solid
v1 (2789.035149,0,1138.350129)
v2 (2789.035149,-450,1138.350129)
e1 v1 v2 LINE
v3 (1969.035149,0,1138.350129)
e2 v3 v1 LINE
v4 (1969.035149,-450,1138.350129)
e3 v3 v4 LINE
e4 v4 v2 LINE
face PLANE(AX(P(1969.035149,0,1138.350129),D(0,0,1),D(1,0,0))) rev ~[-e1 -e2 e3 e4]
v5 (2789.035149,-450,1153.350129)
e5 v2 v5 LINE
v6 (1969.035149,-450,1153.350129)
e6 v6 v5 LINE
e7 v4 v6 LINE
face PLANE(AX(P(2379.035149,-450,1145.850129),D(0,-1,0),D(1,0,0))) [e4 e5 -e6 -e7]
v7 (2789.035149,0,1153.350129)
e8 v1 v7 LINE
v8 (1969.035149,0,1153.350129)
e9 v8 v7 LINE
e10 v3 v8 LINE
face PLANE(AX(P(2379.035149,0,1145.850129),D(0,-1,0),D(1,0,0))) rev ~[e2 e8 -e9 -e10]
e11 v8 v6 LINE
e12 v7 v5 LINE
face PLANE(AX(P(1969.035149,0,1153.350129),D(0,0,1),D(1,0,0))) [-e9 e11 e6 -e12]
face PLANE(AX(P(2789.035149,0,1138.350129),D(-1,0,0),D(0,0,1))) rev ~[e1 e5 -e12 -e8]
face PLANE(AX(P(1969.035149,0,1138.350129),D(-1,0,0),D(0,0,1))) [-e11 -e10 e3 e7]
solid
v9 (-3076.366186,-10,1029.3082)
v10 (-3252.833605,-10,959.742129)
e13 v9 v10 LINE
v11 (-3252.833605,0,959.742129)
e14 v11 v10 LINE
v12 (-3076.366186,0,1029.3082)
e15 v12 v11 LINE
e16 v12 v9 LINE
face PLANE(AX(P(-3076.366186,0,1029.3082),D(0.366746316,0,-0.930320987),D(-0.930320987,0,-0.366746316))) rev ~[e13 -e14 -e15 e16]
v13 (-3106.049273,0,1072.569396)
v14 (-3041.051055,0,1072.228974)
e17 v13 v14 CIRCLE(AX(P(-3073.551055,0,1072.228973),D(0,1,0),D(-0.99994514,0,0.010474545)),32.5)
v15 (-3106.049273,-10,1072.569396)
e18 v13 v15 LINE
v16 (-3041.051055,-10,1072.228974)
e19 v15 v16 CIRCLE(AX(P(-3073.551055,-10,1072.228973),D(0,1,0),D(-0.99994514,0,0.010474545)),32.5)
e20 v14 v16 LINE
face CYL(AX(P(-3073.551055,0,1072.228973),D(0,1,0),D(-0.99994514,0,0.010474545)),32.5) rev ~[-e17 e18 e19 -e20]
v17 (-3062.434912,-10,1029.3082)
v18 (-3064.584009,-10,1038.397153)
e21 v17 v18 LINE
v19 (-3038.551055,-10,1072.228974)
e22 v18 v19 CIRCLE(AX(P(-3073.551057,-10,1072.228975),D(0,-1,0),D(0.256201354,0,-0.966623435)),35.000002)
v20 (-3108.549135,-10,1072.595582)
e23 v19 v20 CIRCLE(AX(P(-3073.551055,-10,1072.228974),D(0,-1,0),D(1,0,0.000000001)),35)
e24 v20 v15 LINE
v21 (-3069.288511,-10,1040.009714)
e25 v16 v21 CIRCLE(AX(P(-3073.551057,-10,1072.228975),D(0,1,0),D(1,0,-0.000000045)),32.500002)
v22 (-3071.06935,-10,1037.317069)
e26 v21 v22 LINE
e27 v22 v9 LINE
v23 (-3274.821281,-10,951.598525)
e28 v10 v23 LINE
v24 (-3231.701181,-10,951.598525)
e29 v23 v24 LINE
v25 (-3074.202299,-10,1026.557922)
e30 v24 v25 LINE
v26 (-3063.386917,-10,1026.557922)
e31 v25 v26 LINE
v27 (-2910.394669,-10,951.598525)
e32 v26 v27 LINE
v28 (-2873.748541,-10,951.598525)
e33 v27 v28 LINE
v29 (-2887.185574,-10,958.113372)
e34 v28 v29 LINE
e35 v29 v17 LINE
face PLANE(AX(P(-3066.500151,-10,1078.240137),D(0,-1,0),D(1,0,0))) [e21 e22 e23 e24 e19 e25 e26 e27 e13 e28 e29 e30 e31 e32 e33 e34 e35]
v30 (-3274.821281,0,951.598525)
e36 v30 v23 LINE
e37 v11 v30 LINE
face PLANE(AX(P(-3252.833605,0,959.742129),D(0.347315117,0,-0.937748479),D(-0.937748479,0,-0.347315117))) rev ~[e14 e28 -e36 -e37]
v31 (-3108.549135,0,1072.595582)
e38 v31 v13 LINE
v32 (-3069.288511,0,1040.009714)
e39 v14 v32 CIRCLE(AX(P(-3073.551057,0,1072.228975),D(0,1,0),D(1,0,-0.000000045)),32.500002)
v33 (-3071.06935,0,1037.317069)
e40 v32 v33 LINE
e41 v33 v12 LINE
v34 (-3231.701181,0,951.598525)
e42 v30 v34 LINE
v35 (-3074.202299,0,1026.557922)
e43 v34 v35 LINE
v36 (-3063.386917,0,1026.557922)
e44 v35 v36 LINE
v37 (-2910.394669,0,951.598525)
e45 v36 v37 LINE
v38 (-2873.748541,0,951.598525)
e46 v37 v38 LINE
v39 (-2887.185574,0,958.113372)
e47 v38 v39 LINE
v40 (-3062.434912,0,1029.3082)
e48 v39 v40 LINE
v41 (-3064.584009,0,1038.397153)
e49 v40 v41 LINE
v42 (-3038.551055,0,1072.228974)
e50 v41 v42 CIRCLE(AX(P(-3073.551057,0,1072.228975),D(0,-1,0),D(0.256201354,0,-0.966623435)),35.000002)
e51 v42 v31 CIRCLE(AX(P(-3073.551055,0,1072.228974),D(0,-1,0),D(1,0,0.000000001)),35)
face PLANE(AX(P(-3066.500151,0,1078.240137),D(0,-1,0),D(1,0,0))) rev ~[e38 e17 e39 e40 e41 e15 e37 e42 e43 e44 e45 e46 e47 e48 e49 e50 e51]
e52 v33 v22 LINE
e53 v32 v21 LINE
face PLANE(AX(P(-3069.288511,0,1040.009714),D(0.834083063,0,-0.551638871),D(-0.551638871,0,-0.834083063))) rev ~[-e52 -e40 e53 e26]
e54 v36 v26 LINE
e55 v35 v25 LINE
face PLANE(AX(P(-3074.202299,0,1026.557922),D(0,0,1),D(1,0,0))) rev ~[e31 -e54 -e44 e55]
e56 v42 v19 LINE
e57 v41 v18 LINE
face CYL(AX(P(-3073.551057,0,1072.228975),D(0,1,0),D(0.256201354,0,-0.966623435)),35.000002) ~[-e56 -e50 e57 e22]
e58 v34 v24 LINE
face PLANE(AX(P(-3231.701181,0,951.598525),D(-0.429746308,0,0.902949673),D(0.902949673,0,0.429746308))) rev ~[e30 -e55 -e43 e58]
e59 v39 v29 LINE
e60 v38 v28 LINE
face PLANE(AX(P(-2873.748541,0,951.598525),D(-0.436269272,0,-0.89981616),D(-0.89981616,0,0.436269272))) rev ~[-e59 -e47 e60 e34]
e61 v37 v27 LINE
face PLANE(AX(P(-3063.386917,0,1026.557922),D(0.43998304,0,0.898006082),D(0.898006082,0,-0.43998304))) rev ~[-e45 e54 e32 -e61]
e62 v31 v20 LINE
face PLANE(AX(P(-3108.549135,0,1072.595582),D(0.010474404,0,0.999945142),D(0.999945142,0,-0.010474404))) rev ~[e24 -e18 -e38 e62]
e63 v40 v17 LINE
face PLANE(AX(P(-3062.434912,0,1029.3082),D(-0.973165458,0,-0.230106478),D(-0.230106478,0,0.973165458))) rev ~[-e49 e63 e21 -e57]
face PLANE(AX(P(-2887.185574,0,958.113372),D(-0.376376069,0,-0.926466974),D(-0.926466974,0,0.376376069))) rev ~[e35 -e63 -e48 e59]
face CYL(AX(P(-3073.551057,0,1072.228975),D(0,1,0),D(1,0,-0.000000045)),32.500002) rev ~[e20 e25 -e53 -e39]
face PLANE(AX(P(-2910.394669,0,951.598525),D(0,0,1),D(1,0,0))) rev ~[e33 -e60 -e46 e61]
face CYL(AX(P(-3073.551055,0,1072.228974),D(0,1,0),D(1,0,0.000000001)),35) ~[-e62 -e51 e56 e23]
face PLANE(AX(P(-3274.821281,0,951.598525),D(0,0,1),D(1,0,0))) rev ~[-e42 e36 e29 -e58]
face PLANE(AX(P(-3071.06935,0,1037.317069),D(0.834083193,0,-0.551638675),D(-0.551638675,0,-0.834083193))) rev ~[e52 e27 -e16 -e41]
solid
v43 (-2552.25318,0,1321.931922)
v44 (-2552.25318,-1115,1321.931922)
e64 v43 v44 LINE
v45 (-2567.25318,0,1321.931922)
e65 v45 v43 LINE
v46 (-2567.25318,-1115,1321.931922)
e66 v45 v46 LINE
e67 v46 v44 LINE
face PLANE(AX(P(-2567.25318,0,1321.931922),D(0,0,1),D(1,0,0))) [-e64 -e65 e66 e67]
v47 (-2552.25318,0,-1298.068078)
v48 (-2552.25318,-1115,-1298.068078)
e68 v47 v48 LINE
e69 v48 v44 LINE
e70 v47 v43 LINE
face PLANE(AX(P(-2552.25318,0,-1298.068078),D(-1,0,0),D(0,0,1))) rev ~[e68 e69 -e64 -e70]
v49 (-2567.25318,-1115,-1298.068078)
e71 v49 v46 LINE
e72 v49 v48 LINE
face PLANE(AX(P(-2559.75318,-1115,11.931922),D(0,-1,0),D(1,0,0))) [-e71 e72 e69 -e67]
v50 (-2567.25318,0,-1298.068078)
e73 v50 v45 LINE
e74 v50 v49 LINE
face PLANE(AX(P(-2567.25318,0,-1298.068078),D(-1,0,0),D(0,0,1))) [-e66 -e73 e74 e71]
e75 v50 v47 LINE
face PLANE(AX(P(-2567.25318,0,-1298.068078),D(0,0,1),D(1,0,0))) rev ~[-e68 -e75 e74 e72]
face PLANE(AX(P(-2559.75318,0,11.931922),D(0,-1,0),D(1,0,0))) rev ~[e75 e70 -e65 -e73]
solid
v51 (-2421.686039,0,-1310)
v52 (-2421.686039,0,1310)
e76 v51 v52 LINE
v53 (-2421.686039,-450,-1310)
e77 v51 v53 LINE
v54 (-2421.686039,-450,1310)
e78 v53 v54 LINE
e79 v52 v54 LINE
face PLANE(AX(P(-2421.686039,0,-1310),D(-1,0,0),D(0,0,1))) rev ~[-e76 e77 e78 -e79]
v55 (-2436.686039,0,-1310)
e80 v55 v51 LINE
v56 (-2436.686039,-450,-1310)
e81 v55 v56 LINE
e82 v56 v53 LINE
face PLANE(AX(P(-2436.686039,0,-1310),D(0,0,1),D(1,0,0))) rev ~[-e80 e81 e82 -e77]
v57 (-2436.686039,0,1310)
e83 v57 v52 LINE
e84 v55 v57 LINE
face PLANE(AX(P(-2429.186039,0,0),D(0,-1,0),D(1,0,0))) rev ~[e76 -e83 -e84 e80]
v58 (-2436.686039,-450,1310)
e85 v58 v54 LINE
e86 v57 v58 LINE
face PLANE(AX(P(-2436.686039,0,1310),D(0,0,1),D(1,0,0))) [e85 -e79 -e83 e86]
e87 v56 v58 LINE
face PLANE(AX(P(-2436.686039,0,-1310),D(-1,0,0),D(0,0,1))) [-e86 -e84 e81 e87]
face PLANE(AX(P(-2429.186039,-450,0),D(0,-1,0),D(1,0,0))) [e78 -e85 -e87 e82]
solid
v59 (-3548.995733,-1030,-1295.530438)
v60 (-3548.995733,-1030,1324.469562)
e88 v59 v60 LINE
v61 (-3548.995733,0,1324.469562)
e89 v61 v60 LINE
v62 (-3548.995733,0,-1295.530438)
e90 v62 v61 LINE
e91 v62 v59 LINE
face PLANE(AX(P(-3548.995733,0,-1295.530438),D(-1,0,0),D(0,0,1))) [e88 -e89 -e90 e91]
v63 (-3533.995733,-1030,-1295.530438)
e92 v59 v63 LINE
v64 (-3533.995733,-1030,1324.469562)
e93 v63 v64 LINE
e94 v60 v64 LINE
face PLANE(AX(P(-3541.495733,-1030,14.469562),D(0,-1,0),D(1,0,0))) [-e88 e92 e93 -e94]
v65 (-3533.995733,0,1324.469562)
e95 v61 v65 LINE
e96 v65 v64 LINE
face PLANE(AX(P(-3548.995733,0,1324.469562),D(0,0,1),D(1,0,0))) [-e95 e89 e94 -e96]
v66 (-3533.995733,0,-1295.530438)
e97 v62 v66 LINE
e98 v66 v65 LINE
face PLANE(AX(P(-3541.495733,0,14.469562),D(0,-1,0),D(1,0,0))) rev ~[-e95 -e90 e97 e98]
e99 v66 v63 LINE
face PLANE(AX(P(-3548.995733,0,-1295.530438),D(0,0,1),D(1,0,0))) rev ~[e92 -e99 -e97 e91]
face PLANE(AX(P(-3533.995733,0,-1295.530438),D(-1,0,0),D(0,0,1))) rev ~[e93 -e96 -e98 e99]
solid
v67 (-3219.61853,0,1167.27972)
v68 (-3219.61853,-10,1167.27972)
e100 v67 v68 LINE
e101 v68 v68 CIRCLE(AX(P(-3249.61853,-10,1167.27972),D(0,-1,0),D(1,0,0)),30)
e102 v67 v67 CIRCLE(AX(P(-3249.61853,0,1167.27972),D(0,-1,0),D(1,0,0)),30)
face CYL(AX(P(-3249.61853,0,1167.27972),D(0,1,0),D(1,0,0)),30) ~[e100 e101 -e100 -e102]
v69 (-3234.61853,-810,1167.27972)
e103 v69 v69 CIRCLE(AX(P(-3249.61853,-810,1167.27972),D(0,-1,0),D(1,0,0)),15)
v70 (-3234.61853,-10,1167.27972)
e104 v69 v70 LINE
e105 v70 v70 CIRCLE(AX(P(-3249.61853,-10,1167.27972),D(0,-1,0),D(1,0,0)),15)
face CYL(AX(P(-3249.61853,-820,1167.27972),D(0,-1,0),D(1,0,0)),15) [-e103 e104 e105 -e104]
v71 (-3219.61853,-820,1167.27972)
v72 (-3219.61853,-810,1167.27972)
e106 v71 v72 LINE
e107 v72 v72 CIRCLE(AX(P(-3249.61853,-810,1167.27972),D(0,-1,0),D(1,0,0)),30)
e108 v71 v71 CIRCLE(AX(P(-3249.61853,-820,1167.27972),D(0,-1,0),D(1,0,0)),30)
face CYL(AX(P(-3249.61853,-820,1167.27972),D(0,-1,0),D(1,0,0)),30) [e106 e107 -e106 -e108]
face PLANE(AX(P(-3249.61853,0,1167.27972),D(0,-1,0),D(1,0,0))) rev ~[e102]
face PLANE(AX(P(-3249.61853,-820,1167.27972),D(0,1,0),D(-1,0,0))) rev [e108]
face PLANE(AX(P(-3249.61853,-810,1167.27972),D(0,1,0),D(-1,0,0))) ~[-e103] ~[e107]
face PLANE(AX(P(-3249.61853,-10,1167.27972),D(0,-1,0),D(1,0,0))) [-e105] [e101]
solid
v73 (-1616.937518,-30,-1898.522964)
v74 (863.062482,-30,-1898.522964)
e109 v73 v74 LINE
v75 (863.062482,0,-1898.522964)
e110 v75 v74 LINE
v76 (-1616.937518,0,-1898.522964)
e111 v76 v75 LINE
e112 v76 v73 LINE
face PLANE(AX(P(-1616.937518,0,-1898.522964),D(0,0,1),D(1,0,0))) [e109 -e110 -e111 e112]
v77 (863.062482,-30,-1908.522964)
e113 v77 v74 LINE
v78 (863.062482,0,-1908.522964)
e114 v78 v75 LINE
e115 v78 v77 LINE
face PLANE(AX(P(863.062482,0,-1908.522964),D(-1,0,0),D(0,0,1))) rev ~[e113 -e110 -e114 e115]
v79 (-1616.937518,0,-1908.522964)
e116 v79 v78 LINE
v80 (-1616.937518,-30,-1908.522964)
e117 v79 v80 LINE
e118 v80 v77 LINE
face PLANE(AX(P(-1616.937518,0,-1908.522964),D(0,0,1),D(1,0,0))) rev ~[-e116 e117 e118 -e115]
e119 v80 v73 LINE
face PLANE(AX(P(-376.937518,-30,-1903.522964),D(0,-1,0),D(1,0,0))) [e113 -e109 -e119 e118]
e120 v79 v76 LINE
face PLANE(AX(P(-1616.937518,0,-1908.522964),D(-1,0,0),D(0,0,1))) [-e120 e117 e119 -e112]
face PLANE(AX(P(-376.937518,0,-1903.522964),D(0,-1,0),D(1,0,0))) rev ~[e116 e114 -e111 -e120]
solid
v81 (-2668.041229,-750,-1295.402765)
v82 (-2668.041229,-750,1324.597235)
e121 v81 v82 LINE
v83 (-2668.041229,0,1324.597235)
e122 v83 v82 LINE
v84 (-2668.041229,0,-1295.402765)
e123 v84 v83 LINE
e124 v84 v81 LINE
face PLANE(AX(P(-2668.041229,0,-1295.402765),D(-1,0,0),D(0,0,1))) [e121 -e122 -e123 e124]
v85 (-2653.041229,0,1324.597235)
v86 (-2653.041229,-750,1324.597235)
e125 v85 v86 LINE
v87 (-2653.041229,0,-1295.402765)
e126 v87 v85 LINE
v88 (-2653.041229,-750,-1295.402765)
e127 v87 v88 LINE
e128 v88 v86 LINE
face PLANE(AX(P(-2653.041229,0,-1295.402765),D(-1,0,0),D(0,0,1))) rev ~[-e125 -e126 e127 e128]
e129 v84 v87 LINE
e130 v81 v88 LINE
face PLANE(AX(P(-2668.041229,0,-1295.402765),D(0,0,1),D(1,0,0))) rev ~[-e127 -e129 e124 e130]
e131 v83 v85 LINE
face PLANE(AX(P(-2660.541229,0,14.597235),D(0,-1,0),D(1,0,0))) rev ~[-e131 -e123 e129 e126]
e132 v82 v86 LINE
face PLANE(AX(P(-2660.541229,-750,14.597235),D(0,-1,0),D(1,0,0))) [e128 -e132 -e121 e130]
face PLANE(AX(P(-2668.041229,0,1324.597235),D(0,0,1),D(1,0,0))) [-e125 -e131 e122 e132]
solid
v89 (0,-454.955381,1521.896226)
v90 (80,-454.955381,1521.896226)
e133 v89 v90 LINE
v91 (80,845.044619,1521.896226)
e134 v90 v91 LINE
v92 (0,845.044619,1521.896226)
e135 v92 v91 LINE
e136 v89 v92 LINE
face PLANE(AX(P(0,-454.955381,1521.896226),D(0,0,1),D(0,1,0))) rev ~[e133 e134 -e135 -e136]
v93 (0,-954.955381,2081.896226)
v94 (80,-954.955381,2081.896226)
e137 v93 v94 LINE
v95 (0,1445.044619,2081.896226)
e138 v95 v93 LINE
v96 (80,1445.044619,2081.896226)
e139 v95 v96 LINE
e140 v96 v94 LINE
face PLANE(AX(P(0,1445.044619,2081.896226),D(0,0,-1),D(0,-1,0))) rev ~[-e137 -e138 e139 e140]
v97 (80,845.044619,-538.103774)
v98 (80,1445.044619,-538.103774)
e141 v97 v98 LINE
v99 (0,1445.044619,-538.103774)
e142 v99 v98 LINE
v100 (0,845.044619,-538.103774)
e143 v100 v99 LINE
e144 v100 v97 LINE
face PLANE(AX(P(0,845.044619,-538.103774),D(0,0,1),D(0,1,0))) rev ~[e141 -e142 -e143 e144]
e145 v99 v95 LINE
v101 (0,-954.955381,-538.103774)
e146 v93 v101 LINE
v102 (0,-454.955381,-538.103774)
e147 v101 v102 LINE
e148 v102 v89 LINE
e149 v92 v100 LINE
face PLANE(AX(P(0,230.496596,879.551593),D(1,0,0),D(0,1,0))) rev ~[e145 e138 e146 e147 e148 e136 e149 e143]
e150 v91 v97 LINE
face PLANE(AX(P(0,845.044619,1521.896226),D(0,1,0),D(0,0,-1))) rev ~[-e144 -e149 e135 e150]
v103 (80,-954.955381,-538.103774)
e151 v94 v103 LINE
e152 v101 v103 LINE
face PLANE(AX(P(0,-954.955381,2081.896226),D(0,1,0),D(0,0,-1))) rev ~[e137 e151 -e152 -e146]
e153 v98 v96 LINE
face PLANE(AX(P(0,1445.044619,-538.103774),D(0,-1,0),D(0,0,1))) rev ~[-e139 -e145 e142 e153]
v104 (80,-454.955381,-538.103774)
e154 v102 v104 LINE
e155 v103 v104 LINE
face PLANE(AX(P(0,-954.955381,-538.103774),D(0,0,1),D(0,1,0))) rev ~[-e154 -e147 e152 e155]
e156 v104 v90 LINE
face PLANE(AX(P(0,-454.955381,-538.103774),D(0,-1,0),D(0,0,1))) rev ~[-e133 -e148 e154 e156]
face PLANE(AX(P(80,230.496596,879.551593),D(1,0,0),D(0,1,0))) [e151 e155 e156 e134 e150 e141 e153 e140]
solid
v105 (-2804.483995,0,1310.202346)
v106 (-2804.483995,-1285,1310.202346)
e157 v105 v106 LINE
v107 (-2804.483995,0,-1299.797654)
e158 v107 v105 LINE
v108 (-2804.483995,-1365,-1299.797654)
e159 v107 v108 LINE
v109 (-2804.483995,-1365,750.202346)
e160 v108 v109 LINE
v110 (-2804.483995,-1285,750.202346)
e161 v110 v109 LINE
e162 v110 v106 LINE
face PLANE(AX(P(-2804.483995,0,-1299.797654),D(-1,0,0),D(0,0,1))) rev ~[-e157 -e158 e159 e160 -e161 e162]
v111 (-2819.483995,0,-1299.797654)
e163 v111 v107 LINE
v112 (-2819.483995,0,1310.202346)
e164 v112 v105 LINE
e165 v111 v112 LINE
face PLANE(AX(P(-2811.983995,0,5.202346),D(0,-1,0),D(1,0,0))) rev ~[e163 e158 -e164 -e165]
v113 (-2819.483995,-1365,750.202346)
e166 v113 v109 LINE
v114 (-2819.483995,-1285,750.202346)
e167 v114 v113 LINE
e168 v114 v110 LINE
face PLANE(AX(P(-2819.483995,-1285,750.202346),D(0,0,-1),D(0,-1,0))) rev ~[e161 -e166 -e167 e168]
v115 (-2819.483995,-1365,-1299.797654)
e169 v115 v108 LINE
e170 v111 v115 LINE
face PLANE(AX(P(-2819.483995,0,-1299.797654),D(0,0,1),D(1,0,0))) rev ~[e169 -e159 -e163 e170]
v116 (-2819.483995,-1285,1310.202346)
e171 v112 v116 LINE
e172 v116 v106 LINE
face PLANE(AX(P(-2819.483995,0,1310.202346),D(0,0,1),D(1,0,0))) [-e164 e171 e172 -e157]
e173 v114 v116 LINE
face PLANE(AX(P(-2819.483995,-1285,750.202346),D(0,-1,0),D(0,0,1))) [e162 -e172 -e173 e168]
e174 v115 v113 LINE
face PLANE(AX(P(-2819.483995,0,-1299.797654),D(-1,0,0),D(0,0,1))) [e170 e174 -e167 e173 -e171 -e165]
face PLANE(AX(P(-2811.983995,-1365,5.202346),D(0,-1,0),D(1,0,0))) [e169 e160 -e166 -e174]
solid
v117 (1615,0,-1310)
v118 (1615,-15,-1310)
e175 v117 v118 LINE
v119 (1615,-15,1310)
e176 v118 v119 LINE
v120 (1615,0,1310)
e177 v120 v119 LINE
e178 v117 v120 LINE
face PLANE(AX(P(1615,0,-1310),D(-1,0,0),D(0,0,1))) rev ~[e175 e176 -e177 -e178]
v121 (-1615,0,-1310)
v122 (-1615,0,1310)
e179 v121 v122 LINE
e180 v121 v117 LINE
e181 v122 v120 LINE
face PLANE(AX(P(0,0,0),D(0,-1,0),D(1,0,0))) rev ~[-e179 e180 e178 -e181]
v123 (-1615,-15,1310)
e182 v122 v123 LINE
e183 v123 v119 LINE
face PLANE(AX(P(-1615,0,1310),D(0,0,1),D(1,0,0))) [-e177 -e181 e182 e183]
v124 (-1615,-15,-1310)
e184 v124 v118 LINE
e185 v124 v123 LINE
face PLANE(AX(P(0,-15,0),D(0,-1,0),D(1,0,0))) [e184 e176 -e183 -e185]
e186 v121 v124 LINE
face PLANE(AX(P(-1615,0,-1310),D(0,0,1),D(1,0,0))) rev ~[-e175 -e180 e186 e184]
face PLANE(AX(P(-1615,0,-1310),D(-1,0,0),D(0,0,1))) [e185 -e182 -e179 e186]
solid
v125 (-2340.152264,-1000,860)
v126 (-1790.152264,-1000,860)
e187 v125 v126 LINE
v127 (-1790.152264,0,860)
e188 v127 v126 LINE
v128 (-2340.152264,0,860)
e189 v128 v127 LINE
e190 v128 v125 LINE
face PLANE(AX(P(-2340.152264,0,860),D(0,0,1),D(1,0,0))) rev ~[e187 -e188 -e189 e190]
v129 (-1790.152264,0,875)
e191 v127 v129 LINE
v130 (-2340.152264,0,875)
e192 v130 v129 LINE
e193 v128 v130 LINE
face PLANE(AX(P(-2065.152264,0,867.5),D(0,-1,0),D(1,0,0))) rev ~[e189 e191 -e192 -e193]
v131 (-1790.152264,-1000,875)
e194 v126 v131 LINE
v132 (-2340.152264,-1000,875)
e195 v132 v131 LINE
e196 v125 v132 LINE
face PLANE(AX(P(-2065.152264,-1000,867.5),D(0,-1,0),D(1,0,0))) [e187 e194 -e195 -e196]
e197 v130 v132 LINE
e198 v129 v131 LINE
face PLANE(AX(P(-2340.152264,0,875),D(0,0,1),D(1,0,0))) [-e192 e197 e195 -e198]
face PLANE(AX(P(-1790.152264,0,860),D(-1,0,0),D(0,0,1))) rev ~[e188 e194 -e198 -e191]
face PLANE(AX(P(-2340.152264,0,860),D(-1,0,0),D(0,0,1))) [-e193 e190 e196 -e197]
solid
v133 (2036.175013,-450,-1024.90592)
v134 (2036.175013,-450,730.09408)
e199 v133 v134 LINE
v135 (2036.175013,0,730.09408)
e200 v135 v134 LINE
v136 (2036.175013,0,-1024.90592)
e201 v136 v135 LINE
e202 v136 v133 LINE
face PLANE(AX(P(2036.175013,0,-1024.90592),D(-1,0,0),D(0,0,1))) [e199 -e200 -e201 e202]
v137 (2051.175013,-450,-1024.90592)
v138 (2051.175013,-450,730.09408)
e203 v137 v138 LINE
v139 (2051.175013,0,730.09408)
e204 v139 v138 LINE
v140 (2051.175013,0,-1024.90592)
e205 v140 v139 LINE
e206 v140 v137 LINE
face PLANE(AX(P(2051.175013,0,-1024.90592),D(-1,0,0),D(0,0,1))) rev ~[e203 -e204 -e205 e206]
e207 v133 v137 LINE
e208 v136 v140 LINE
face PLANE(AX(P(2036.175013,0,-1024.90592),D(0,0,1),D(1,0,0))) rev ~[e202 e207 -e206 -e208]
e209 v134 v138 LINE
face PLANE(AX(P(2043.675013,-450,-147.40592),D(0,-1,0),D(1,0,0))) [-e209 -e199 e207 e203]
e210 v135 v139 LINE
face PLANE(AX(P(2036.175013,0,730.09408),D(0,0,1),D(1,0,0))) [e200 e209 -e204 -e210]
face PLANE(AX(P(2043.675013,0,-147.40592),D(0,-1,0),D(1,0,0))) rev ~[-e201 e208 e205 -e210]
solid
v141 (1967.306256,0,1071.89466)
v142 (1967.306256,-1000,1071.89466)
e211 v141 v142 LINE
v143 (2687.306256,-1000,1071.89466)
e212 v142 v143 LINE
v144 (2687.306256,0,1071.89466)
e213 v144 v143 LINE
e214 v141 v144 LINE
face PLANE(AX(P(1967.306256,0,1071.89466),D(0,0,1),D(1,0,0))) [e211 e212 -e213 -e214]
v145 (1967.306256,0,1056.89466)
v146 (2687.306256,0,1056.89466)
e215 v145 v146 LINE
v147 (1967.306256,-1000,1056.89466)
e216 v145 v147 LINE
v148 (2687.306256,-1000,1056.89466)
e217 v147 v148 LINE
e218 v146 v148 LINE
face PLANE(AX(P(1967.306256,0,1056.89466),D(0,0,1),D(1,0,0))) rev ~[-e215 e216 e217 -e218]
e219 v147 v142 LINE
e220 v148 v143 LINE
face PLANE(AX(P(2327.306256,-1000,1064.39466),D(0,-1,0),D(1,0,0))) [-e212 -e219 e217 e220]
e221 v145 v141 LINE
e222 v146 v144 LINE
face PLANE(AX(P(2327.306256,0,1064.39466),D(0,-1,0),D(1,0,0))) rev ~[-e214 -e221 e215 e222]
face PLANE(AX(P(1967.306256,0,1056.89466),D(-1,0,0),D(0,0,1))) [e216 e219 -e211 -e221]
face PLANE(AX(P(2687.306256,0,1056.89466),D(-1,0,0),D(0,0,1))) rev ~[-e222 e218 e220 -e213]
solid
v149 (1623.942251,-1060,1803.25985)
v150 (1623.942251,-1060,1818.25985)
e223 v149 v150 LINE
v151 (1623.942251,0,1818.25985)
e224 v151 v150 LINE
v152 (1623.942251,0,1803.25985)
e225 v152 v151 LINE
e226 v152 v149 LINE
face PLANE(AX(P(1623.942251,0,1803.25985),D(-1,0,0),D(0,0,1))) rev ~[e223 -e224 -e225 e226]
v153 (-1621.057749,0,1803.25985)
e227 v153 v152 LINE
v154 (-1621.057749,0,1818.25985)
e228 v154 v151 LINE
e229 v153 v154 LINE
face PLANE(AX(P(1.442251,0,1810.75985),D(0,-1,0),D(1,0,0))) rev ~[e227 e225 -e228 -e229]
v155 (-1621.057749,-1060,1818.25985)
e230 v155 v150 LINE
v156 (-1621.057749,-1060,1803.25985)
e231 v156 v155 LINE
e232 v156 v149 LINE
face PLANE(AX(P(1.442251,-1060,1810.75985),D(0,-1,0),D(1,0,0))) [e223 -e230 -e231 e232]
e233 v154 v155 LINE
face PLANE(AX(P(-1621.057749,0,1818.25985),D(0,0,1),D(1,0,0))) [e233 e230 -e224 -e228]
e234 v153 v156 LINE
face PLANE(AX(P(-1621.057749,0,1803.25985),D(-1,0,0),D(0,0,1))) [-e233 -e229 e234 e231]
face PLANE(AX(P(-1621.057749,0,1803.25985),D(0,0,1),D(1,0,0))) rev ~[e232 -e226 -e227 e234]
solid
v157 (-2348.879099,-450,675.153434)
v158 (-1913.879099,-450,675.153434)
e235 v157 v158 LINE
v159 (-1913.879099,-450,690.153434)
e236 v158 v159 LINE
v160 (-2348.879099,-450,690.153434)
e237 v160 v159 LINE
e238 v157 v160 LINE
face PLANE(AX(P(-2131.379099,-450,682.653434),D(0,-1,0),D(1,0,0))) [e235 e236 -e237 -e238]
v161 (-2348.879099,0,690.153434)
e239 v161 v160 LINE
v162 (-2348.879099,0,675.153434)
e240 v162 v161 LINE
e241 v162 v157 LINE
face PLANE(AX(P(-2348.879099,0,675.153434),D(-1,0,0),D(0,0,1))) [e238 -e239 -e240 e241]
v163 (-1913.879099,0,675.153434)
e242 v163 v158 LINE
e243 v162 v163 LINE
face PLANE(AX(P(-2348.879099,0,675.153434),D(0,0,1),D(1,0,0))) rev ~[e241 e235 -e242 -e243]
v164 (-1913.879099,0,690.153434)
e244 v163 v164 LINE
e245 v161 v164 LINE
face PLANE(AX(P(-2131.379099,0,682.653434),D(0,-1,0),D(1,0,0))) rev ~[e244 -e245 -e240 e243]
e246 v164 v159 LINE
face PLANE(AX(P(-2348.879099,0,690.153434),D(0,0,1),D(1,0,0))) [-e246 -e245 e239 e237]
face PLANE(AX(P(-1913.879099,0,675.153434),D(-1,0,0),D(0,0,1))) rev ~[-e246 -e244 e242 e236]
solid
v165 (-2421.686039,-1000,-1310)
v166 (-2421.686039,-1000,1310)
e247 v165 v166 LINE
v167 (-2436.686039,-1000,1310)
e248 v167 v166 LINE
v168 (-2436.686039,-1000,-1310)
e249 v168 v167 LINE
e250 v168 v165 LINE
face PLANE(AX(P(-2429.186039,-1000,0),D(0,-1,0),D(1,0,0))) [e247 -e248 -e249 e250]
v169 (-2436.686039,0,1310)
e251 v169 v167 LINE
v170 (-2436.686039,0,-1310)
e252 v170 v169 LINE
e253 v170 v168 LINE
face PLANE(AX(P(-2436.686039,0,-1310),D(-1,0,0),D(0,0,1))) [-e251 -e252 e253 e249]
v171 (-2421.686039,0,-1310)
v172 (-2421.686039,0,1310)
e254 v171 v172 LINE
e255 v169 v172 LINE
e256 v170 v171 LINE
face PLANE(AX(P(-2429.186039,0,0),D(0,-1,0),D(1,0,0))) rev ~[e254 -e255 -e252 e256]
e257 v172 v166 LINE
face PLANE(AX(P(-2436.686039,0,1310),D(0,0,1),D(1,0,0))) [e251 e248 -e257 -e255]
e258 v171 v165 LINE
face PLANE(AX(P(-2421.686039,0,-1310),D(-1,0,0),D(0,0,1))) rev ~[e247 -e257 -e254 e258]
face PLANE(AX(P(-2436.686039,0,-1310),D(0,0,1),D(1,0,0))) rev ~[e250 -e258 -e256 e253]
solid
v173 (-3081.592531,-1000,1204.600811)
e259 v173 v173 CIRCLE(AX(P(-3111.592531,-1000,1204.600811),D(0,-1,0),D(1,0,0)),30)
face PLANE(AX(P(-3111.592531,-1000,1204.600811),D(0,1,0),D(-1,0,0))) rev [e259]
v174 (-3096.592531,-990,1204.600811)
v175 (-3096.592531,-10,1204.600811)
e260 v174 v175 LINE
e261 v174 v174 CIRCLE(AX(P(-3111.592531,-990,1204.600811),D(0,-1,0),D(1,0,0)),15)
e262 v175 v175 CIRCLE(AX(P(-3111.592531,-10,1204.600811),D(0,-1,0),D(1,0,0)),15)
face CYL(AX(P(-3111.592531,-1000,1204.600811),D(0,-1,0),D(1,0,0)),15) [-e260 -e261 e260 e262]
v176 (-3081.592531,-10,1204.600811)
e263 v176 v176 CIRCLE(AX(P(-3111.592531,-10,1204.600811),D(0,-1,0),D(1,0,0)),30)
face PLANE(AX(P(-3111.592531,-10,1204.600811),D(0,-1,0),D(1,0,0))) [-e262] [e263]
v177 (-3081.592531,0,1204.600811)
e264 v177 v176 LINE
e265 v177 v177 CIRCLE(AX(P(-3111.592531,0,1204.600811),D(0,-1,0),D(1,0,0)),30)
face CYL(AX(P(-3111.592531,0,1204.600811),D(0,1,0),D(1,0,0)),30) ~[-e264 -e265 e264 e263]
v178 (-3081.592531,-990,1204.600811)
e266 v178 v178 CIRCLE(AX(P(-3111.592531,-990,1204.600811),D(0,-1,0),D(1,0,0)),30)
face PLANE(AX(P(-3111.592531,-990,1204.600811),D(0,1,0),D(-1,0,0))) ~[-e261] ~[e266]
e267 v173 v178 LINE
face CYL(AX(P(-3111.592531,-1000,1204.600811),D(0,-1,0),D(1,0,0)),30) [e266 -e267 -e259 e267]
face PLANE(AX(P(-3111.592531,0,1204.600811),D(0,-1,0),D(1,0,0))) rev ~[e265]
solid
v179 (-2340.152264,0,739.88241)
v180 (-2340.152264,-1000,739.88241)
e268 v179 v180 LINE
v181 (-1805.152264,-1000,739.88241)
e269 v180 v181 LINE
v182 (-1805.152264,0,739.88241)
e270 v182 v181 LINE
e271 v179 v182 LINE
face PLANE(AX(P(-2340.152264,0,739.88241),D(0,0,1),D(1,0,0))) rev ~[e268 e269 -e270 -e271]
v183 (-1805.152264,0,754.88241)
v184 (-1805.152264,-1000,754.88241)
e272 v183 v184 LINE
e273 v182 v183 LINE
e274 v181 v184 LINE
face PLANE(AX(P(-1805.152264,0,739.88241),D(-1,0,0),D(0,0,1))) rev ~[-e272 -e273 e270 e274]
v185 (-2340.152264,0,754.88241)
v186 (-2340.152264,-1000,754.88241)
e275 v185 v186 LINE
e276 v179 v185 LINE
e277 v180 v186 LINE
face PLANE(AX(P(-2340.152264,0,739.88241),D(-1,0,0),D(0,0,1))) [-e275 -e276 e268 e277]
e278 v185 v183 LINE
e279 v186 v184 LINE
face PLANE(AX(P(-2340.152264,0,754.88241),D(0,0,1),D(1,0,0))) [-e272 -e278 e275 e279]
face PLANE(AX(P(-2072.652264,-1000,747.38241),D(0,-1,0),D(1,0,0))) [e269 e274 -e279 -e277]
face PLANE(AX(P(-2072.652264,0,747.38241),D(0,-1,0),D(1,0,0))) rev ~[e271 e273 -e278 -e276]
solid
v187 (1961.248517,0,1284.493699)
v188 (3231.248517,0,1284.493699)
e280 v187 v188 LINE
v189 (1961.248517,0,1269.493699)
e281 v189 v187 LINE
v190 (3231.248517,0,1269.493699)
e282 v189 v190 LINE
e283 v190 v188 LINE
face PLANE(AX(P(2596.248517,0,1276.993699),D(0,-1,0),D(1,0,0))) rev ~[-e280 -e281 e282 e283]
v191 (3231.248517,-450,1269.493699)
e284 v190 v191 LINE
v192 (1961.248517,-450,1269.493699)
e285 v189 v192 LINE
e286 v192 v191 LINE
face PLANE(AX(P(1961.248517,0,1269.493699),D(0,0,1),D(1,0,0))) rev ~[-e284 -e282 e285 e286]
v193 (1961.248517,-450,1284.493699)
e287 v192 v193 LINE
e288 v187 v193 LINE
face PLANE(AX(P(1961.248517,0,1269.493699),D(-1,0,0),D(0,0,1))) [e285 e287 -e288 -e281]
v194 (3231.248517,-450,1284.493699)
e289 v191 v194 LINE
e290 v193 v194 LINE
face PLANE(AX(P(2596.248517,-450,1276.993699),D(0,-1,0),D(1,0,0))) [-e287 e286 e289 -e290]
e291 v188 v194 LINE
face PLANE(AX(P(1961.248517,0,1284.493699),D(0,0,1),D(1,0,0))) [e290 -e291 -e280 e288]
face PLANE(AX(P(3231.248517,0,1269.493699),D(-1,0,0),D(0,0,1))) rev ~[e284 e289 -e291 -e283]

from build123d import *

# Parameters (mm, degrees)
F0_W      = 3230
F0_H      = 2620
F1_DEPTH  = 15
F3_DEPTH  = 80
F0_W_2    = 15
F4_DEPTH  = 1000
F5_DEPTH  = 450
F0_W_3    = 550
F0_H_2    = 15
F6_DEPTH  = 1000
F0_W_4    = 535
F7_DEPTH  = 1000
F8_DEPTH  = 1115
F0_R      = 30
F0_R_2    = 15
F9_DEPTH  = 10
F10_DEPTH = 500
F12_DEPTH = 10
F0_W_5    = 1270
F13_DEPTH = 450
F0_H_3    = 1755
F14_DEPTH = 450
F0_W_6    = 820
F15_DEPTH = 450
F16_DEPTH = 10
F17_DEPTH = 410
F0_W_7    = 435
F19_DEPTH = 450
F0_W_8    = 720
F20_DEPTH = 1000
F21_DEPTH = 750
F0_W_9    = 2480
F0_H_4    = 10
F22_DEPTH = 30
F0_H_5    = 2610
F23_DEPTH = 1365
F24_W     = 80
F24_H     = 560
F25_DEPTH = 25
F0_W_10   = 3245
F26_DEPTH = 1060
F27_DEPTH = 1030


with BuildPart() as f1:
    # F0 (on Front) → F1 (new body)
    with BuildSketch(Plane.XZ):
        Rectangle(F0_W, F0_H)
    extrude(amount=F1_DEPTH)


with BuildPart() as f3:
    # F2 (on Right) → F3 (new body)
    with BuildSketch(Plane.YZ):
        Polygon((845.044619, -538.103774), (1445.044619, -538.103774), (1445.044619, 2081.896226), (-954.955381, 2081.896226), (-954.955381, -538.103774), (-454.955381, -538.103774), (-454.955381, 1521.896226), (845.044619, 1521.896226), align=None)
    extrude(amount=F3_DEPTH)


with BuildPart() as f4:
    # F0 (on Front) → F4 (new body)
    with BuildSketch(Plane.XZ):
        with Locations((-2429.186039, 0)):
            Rectangle(F0_W_2, F0_H)
    extrude(amount=F4_DEPTH)


with BuildPart() as f5:
    # F0 (on Front) → F5 (new body)
    with BuildSketch(Plane.XZ):
        with Locations((-2429.186039, 0)):
            Rectangle(F0_W_2, F0_H)
    extrude(amount=F5_DEPTH)


with BuildPart() as f6:
    # F0 (on Front) → F6 (new body)
    with BuildSketch(Plane.XZ):
        with Locations((-2065.152264, 867.5)):
            Rectangle(F0_W_3, F0_H_2)
    extrude(amount=F6_DEPTH)


with BuildPart() as f7:
    # F0 (on Front) → F7 (new body)
    with BuildSketch(Plane.XZ):
        with Locations((-2072.652264, 747.38241)):
            Rectangle(F0_W_4, F0_H_2)
    extrude(amount=F7_DEPTH)


with BuildPart() as f8:
    # F0 (on Front) → F8 (new body)
    with BuildSketch(Plane.XZ):
        with Locations((-2559.75318, 11.931922)):
            Rectangle(F0_W_2, F0_H)
    extrude(amount=F8_DEPTH)


with BuildPart() as f9:
    # F0 (on Front) → F9 (new body)
    with BuildSketch(Plane.XZ):
        with Locations((-3111.592531, 1204.600811)):
            Circle(F0_R)
        with Locations((-3111.592531, 1204.600811)):
            Circle(F0_R_2, mode=Mode.SUBTRACT)
    extrude(amount=F9_DEPTH)

    # F0 (on Front) → F10 (join)
    with BuildSketch(Plane.XZ):
        with Locations((-3111.592531, 1204.600811)):
            Circle(F0_R_2)
    extrude(amount=F10_DEPTH)

    # F11: F9 across face


with BuildPart() as f9_1:
    add(f9.part)
    add(f9.part.mirror(Plane(origin=(-3111.592531, -500, 1204.600811), x_dir=(1, 0, 0), z_dir=(0, -1, 0))))


with BuildPart() as f12:
    # F0 (on Front) → F12 (new body)
    with BuildSketch(Plane.XZ):
        with BuildLine():
            ThreePointArc((-3064.584009, 1038.397153), (-3045.812575, 1050.884731), (-3038.551055, 1072.228974))
            ThreePointArc((-3038.551055, 1072.228974), (-3073.367749, 1107.228494), (-3108.549135, 1072.595582))
            Line((-3108.549135, 1072.595582), (-3106.049273, 1072.569396))
            ThreePointArc((-3106.049273, 1072.569396), (-3073.380842, 1104.728528), (-3041.051055, 1072.228974))
            ThreePointArc((-3041.051055, 1072.228974), (-3049.109465, 1050.807988), (-3069.288511, 1040.009714))
            Line((-3069.288511, 1040.009714), (-3071.06935, 1037.317069))
            ThreePointArc((-3071.06935, 1037.317069), (-3067.801262, 1037.704492), (-3064.584009, 1038.397153))
        make_face()
        with BuildLine():
            Line((-3062.434912, 1029.3082), (-3064.584009, 1038.397153))
            ThreePointArc((-3064.584009, 1038.397153), (-3067.801262, 1037.704492), (-3071.06935, 1037.317069))
            Line((-3071.06935, 1037.317069), (-3076.366186, 1029.3082))
            Line((-3076.366186, 1029.3082), (-3252.833605, 959.742129))
            Line((-3252.833605, 959.742129), (-3274.821281, 951.598525))
            Line((-3274.821281, 951.598525), (-3231.701181, 951.598525))
            Line((-3231.701181, 951.598525), (-3074.202299, 1026.557922))
            Line((-3074.202299, 1026.557922), (-3063.386917, 1026.557922))
            Line((-3063.386917, 1026.557922), (-2910.394669, 951.598525))
            Line((-2910.394669, 951.598525), (-2873.748541, 951.598525))
            Line((-2873.748541, 951.598525), (-2887.185574, 958.113372))
            Line((-2887.185574, 958.113372), (-3062.434912, 1029.3082))
        make_face()
    extrude(amount=F12_DEPTH)


with BuildPart() as f13:
    # F0 (on Front) → F13 (new body)
    with BuildSketch(Plane.XZ):
        with Locations((2596.248517, 1276.993699)):
            Rectangle(F0_W_5, F0_H_2)
    extrude(amount=F13_DEPTH)


with BuildPart() as f14:
    # F0 (on Front) → F14 (new body)
    with BuildSketch(Plane.XZ):
        with Locations((2043.675013, -147.40592)):
            Rectangle(F0_W_2, F0_H_3)
    extrude(amount=F14_DEPTH)


with BuildPart() as f15:
    # F0 (on Front) → F15 (new body)
    with BuildSketch(Plane.XZ):
        with Locations((2379.035149, 1145.850129)):
            Rectangle(F0_W_6, F0_H_2)
    extrude(amount=F15_DEPTH)


with BuildPart() as f16:
    # F0 (on Front) → F16 (new body)
    with BuildSketch(Plane.XZ):
        with Locations((-3249.61853, 1167.27972)):
            Circle(F0_R)
        with Locations((-3249.61853, 1167.27972)):
            Circle(F0_R_2, mode=Mode.SUBTRACT)
    extrude(amount=F16_DEPTH)

    # F0 (on Front) → F17 (join)
    with BuildSketch(Plane.XZ):
        with Locations((-3249.61853, 1167.27972)):
            Circle(F0_R_2)
    extrude(amount=F17_DEPTH)

    # F18: F16 across face


with BuildPart() as f16_1:
    add(f16.part)
    add(f16.part.mirror(Plane(origin=(-3249.61853, -410, 1167.27972), x_dir=(1, 0, 0), z_dir=(0, -1, 0))))


with BuildPart() as f19:
    # F0 (on Front) → F19 (new body)
    with BuildSketch(Plane.XZ):
        with Locations((-2131.379099, 682.653434)):
            Rectangle(F0_W_7, F0_H_2)
    extrude(amount=F19_DEPTH)


with BuildPart() as f20:
    # F0 (on Front) → F20 (new body)
    with BuildSketch(Plane.XZ):
        with Locations((2327.306256, 1064.39466)):
            Rectangle(F0_W_8, F0_H_2)
    extrude(amount=F20_DEPTH)


with BuildPart() as f21:
    # F0 (on Front) → F21 (new body)
    with BuildSketch(Plane.XZ):
        with Locations((-2660.541229, 14.597235)):
            Rectangle(F0_W_2, F0_H)
    extrude(amount=F21_DEPTH)


with BuildPart() as f22:
    # F0 (on Front) → F22 (new body)
    with BuildSketch(Plane.XZ):
        with Locations((-376.937518, -1903.522964)):
            Rectangle(F0_W_9, F0_H_4)
    extrude(amount=F22_DEPTH)


with BuildPart() as f23:
    # F0 (on Front) → F23 (new body)
    with BuildSketch(Plane.XZ):
        with Locations((-2811.983995, 5.202346)):
            Rectangle(F0_W_2, F0_H_5)
    extrude(amount=F23_DEPTH)

    # F24 (on face) → F25 (cut)
    with BuildSketch(Plane(origin=(-2819.483995, 0, 0), x_dir=(0, -1, 0), z_dir=(-1, 0, 0))):
        with Locations((1325, 1030.202346)):
            Rectangle(F24_W, F24_H)
    extrude(amount=-F25_DEPTH, mode=Mode.SUBTRACT)


with BuildPart() as f26:
    # F0 (on Front) → F26 (new body)
    with BuildSketch(Plane.XZ):
        with Locations((1.442251, 1810.75985)):
            Rectangle(F0_W_10, F0_H_2)
    extrude(amount=F26_DEPTH)


with BuildPart() as f27:
    # F0 (on Front) → F27 (new body)
    with BuildSketch(Plane.XZ):
        with Locations((-3541.495733, 14.469562)):
            Rectangle(F0_W_2, F0_H)
    extrude(amount=F27_DEPTH)


solid = Compound([f1.part, f3.part, f4.part, f5.part, f6.part, f7.part, f8.part, f9_1.part, f12.part, f13.part, f14.part, f15.part, f16_1.part, f19.part, f20.part, f21.part, f22.part, f23.part, f26.part, f27.part])
